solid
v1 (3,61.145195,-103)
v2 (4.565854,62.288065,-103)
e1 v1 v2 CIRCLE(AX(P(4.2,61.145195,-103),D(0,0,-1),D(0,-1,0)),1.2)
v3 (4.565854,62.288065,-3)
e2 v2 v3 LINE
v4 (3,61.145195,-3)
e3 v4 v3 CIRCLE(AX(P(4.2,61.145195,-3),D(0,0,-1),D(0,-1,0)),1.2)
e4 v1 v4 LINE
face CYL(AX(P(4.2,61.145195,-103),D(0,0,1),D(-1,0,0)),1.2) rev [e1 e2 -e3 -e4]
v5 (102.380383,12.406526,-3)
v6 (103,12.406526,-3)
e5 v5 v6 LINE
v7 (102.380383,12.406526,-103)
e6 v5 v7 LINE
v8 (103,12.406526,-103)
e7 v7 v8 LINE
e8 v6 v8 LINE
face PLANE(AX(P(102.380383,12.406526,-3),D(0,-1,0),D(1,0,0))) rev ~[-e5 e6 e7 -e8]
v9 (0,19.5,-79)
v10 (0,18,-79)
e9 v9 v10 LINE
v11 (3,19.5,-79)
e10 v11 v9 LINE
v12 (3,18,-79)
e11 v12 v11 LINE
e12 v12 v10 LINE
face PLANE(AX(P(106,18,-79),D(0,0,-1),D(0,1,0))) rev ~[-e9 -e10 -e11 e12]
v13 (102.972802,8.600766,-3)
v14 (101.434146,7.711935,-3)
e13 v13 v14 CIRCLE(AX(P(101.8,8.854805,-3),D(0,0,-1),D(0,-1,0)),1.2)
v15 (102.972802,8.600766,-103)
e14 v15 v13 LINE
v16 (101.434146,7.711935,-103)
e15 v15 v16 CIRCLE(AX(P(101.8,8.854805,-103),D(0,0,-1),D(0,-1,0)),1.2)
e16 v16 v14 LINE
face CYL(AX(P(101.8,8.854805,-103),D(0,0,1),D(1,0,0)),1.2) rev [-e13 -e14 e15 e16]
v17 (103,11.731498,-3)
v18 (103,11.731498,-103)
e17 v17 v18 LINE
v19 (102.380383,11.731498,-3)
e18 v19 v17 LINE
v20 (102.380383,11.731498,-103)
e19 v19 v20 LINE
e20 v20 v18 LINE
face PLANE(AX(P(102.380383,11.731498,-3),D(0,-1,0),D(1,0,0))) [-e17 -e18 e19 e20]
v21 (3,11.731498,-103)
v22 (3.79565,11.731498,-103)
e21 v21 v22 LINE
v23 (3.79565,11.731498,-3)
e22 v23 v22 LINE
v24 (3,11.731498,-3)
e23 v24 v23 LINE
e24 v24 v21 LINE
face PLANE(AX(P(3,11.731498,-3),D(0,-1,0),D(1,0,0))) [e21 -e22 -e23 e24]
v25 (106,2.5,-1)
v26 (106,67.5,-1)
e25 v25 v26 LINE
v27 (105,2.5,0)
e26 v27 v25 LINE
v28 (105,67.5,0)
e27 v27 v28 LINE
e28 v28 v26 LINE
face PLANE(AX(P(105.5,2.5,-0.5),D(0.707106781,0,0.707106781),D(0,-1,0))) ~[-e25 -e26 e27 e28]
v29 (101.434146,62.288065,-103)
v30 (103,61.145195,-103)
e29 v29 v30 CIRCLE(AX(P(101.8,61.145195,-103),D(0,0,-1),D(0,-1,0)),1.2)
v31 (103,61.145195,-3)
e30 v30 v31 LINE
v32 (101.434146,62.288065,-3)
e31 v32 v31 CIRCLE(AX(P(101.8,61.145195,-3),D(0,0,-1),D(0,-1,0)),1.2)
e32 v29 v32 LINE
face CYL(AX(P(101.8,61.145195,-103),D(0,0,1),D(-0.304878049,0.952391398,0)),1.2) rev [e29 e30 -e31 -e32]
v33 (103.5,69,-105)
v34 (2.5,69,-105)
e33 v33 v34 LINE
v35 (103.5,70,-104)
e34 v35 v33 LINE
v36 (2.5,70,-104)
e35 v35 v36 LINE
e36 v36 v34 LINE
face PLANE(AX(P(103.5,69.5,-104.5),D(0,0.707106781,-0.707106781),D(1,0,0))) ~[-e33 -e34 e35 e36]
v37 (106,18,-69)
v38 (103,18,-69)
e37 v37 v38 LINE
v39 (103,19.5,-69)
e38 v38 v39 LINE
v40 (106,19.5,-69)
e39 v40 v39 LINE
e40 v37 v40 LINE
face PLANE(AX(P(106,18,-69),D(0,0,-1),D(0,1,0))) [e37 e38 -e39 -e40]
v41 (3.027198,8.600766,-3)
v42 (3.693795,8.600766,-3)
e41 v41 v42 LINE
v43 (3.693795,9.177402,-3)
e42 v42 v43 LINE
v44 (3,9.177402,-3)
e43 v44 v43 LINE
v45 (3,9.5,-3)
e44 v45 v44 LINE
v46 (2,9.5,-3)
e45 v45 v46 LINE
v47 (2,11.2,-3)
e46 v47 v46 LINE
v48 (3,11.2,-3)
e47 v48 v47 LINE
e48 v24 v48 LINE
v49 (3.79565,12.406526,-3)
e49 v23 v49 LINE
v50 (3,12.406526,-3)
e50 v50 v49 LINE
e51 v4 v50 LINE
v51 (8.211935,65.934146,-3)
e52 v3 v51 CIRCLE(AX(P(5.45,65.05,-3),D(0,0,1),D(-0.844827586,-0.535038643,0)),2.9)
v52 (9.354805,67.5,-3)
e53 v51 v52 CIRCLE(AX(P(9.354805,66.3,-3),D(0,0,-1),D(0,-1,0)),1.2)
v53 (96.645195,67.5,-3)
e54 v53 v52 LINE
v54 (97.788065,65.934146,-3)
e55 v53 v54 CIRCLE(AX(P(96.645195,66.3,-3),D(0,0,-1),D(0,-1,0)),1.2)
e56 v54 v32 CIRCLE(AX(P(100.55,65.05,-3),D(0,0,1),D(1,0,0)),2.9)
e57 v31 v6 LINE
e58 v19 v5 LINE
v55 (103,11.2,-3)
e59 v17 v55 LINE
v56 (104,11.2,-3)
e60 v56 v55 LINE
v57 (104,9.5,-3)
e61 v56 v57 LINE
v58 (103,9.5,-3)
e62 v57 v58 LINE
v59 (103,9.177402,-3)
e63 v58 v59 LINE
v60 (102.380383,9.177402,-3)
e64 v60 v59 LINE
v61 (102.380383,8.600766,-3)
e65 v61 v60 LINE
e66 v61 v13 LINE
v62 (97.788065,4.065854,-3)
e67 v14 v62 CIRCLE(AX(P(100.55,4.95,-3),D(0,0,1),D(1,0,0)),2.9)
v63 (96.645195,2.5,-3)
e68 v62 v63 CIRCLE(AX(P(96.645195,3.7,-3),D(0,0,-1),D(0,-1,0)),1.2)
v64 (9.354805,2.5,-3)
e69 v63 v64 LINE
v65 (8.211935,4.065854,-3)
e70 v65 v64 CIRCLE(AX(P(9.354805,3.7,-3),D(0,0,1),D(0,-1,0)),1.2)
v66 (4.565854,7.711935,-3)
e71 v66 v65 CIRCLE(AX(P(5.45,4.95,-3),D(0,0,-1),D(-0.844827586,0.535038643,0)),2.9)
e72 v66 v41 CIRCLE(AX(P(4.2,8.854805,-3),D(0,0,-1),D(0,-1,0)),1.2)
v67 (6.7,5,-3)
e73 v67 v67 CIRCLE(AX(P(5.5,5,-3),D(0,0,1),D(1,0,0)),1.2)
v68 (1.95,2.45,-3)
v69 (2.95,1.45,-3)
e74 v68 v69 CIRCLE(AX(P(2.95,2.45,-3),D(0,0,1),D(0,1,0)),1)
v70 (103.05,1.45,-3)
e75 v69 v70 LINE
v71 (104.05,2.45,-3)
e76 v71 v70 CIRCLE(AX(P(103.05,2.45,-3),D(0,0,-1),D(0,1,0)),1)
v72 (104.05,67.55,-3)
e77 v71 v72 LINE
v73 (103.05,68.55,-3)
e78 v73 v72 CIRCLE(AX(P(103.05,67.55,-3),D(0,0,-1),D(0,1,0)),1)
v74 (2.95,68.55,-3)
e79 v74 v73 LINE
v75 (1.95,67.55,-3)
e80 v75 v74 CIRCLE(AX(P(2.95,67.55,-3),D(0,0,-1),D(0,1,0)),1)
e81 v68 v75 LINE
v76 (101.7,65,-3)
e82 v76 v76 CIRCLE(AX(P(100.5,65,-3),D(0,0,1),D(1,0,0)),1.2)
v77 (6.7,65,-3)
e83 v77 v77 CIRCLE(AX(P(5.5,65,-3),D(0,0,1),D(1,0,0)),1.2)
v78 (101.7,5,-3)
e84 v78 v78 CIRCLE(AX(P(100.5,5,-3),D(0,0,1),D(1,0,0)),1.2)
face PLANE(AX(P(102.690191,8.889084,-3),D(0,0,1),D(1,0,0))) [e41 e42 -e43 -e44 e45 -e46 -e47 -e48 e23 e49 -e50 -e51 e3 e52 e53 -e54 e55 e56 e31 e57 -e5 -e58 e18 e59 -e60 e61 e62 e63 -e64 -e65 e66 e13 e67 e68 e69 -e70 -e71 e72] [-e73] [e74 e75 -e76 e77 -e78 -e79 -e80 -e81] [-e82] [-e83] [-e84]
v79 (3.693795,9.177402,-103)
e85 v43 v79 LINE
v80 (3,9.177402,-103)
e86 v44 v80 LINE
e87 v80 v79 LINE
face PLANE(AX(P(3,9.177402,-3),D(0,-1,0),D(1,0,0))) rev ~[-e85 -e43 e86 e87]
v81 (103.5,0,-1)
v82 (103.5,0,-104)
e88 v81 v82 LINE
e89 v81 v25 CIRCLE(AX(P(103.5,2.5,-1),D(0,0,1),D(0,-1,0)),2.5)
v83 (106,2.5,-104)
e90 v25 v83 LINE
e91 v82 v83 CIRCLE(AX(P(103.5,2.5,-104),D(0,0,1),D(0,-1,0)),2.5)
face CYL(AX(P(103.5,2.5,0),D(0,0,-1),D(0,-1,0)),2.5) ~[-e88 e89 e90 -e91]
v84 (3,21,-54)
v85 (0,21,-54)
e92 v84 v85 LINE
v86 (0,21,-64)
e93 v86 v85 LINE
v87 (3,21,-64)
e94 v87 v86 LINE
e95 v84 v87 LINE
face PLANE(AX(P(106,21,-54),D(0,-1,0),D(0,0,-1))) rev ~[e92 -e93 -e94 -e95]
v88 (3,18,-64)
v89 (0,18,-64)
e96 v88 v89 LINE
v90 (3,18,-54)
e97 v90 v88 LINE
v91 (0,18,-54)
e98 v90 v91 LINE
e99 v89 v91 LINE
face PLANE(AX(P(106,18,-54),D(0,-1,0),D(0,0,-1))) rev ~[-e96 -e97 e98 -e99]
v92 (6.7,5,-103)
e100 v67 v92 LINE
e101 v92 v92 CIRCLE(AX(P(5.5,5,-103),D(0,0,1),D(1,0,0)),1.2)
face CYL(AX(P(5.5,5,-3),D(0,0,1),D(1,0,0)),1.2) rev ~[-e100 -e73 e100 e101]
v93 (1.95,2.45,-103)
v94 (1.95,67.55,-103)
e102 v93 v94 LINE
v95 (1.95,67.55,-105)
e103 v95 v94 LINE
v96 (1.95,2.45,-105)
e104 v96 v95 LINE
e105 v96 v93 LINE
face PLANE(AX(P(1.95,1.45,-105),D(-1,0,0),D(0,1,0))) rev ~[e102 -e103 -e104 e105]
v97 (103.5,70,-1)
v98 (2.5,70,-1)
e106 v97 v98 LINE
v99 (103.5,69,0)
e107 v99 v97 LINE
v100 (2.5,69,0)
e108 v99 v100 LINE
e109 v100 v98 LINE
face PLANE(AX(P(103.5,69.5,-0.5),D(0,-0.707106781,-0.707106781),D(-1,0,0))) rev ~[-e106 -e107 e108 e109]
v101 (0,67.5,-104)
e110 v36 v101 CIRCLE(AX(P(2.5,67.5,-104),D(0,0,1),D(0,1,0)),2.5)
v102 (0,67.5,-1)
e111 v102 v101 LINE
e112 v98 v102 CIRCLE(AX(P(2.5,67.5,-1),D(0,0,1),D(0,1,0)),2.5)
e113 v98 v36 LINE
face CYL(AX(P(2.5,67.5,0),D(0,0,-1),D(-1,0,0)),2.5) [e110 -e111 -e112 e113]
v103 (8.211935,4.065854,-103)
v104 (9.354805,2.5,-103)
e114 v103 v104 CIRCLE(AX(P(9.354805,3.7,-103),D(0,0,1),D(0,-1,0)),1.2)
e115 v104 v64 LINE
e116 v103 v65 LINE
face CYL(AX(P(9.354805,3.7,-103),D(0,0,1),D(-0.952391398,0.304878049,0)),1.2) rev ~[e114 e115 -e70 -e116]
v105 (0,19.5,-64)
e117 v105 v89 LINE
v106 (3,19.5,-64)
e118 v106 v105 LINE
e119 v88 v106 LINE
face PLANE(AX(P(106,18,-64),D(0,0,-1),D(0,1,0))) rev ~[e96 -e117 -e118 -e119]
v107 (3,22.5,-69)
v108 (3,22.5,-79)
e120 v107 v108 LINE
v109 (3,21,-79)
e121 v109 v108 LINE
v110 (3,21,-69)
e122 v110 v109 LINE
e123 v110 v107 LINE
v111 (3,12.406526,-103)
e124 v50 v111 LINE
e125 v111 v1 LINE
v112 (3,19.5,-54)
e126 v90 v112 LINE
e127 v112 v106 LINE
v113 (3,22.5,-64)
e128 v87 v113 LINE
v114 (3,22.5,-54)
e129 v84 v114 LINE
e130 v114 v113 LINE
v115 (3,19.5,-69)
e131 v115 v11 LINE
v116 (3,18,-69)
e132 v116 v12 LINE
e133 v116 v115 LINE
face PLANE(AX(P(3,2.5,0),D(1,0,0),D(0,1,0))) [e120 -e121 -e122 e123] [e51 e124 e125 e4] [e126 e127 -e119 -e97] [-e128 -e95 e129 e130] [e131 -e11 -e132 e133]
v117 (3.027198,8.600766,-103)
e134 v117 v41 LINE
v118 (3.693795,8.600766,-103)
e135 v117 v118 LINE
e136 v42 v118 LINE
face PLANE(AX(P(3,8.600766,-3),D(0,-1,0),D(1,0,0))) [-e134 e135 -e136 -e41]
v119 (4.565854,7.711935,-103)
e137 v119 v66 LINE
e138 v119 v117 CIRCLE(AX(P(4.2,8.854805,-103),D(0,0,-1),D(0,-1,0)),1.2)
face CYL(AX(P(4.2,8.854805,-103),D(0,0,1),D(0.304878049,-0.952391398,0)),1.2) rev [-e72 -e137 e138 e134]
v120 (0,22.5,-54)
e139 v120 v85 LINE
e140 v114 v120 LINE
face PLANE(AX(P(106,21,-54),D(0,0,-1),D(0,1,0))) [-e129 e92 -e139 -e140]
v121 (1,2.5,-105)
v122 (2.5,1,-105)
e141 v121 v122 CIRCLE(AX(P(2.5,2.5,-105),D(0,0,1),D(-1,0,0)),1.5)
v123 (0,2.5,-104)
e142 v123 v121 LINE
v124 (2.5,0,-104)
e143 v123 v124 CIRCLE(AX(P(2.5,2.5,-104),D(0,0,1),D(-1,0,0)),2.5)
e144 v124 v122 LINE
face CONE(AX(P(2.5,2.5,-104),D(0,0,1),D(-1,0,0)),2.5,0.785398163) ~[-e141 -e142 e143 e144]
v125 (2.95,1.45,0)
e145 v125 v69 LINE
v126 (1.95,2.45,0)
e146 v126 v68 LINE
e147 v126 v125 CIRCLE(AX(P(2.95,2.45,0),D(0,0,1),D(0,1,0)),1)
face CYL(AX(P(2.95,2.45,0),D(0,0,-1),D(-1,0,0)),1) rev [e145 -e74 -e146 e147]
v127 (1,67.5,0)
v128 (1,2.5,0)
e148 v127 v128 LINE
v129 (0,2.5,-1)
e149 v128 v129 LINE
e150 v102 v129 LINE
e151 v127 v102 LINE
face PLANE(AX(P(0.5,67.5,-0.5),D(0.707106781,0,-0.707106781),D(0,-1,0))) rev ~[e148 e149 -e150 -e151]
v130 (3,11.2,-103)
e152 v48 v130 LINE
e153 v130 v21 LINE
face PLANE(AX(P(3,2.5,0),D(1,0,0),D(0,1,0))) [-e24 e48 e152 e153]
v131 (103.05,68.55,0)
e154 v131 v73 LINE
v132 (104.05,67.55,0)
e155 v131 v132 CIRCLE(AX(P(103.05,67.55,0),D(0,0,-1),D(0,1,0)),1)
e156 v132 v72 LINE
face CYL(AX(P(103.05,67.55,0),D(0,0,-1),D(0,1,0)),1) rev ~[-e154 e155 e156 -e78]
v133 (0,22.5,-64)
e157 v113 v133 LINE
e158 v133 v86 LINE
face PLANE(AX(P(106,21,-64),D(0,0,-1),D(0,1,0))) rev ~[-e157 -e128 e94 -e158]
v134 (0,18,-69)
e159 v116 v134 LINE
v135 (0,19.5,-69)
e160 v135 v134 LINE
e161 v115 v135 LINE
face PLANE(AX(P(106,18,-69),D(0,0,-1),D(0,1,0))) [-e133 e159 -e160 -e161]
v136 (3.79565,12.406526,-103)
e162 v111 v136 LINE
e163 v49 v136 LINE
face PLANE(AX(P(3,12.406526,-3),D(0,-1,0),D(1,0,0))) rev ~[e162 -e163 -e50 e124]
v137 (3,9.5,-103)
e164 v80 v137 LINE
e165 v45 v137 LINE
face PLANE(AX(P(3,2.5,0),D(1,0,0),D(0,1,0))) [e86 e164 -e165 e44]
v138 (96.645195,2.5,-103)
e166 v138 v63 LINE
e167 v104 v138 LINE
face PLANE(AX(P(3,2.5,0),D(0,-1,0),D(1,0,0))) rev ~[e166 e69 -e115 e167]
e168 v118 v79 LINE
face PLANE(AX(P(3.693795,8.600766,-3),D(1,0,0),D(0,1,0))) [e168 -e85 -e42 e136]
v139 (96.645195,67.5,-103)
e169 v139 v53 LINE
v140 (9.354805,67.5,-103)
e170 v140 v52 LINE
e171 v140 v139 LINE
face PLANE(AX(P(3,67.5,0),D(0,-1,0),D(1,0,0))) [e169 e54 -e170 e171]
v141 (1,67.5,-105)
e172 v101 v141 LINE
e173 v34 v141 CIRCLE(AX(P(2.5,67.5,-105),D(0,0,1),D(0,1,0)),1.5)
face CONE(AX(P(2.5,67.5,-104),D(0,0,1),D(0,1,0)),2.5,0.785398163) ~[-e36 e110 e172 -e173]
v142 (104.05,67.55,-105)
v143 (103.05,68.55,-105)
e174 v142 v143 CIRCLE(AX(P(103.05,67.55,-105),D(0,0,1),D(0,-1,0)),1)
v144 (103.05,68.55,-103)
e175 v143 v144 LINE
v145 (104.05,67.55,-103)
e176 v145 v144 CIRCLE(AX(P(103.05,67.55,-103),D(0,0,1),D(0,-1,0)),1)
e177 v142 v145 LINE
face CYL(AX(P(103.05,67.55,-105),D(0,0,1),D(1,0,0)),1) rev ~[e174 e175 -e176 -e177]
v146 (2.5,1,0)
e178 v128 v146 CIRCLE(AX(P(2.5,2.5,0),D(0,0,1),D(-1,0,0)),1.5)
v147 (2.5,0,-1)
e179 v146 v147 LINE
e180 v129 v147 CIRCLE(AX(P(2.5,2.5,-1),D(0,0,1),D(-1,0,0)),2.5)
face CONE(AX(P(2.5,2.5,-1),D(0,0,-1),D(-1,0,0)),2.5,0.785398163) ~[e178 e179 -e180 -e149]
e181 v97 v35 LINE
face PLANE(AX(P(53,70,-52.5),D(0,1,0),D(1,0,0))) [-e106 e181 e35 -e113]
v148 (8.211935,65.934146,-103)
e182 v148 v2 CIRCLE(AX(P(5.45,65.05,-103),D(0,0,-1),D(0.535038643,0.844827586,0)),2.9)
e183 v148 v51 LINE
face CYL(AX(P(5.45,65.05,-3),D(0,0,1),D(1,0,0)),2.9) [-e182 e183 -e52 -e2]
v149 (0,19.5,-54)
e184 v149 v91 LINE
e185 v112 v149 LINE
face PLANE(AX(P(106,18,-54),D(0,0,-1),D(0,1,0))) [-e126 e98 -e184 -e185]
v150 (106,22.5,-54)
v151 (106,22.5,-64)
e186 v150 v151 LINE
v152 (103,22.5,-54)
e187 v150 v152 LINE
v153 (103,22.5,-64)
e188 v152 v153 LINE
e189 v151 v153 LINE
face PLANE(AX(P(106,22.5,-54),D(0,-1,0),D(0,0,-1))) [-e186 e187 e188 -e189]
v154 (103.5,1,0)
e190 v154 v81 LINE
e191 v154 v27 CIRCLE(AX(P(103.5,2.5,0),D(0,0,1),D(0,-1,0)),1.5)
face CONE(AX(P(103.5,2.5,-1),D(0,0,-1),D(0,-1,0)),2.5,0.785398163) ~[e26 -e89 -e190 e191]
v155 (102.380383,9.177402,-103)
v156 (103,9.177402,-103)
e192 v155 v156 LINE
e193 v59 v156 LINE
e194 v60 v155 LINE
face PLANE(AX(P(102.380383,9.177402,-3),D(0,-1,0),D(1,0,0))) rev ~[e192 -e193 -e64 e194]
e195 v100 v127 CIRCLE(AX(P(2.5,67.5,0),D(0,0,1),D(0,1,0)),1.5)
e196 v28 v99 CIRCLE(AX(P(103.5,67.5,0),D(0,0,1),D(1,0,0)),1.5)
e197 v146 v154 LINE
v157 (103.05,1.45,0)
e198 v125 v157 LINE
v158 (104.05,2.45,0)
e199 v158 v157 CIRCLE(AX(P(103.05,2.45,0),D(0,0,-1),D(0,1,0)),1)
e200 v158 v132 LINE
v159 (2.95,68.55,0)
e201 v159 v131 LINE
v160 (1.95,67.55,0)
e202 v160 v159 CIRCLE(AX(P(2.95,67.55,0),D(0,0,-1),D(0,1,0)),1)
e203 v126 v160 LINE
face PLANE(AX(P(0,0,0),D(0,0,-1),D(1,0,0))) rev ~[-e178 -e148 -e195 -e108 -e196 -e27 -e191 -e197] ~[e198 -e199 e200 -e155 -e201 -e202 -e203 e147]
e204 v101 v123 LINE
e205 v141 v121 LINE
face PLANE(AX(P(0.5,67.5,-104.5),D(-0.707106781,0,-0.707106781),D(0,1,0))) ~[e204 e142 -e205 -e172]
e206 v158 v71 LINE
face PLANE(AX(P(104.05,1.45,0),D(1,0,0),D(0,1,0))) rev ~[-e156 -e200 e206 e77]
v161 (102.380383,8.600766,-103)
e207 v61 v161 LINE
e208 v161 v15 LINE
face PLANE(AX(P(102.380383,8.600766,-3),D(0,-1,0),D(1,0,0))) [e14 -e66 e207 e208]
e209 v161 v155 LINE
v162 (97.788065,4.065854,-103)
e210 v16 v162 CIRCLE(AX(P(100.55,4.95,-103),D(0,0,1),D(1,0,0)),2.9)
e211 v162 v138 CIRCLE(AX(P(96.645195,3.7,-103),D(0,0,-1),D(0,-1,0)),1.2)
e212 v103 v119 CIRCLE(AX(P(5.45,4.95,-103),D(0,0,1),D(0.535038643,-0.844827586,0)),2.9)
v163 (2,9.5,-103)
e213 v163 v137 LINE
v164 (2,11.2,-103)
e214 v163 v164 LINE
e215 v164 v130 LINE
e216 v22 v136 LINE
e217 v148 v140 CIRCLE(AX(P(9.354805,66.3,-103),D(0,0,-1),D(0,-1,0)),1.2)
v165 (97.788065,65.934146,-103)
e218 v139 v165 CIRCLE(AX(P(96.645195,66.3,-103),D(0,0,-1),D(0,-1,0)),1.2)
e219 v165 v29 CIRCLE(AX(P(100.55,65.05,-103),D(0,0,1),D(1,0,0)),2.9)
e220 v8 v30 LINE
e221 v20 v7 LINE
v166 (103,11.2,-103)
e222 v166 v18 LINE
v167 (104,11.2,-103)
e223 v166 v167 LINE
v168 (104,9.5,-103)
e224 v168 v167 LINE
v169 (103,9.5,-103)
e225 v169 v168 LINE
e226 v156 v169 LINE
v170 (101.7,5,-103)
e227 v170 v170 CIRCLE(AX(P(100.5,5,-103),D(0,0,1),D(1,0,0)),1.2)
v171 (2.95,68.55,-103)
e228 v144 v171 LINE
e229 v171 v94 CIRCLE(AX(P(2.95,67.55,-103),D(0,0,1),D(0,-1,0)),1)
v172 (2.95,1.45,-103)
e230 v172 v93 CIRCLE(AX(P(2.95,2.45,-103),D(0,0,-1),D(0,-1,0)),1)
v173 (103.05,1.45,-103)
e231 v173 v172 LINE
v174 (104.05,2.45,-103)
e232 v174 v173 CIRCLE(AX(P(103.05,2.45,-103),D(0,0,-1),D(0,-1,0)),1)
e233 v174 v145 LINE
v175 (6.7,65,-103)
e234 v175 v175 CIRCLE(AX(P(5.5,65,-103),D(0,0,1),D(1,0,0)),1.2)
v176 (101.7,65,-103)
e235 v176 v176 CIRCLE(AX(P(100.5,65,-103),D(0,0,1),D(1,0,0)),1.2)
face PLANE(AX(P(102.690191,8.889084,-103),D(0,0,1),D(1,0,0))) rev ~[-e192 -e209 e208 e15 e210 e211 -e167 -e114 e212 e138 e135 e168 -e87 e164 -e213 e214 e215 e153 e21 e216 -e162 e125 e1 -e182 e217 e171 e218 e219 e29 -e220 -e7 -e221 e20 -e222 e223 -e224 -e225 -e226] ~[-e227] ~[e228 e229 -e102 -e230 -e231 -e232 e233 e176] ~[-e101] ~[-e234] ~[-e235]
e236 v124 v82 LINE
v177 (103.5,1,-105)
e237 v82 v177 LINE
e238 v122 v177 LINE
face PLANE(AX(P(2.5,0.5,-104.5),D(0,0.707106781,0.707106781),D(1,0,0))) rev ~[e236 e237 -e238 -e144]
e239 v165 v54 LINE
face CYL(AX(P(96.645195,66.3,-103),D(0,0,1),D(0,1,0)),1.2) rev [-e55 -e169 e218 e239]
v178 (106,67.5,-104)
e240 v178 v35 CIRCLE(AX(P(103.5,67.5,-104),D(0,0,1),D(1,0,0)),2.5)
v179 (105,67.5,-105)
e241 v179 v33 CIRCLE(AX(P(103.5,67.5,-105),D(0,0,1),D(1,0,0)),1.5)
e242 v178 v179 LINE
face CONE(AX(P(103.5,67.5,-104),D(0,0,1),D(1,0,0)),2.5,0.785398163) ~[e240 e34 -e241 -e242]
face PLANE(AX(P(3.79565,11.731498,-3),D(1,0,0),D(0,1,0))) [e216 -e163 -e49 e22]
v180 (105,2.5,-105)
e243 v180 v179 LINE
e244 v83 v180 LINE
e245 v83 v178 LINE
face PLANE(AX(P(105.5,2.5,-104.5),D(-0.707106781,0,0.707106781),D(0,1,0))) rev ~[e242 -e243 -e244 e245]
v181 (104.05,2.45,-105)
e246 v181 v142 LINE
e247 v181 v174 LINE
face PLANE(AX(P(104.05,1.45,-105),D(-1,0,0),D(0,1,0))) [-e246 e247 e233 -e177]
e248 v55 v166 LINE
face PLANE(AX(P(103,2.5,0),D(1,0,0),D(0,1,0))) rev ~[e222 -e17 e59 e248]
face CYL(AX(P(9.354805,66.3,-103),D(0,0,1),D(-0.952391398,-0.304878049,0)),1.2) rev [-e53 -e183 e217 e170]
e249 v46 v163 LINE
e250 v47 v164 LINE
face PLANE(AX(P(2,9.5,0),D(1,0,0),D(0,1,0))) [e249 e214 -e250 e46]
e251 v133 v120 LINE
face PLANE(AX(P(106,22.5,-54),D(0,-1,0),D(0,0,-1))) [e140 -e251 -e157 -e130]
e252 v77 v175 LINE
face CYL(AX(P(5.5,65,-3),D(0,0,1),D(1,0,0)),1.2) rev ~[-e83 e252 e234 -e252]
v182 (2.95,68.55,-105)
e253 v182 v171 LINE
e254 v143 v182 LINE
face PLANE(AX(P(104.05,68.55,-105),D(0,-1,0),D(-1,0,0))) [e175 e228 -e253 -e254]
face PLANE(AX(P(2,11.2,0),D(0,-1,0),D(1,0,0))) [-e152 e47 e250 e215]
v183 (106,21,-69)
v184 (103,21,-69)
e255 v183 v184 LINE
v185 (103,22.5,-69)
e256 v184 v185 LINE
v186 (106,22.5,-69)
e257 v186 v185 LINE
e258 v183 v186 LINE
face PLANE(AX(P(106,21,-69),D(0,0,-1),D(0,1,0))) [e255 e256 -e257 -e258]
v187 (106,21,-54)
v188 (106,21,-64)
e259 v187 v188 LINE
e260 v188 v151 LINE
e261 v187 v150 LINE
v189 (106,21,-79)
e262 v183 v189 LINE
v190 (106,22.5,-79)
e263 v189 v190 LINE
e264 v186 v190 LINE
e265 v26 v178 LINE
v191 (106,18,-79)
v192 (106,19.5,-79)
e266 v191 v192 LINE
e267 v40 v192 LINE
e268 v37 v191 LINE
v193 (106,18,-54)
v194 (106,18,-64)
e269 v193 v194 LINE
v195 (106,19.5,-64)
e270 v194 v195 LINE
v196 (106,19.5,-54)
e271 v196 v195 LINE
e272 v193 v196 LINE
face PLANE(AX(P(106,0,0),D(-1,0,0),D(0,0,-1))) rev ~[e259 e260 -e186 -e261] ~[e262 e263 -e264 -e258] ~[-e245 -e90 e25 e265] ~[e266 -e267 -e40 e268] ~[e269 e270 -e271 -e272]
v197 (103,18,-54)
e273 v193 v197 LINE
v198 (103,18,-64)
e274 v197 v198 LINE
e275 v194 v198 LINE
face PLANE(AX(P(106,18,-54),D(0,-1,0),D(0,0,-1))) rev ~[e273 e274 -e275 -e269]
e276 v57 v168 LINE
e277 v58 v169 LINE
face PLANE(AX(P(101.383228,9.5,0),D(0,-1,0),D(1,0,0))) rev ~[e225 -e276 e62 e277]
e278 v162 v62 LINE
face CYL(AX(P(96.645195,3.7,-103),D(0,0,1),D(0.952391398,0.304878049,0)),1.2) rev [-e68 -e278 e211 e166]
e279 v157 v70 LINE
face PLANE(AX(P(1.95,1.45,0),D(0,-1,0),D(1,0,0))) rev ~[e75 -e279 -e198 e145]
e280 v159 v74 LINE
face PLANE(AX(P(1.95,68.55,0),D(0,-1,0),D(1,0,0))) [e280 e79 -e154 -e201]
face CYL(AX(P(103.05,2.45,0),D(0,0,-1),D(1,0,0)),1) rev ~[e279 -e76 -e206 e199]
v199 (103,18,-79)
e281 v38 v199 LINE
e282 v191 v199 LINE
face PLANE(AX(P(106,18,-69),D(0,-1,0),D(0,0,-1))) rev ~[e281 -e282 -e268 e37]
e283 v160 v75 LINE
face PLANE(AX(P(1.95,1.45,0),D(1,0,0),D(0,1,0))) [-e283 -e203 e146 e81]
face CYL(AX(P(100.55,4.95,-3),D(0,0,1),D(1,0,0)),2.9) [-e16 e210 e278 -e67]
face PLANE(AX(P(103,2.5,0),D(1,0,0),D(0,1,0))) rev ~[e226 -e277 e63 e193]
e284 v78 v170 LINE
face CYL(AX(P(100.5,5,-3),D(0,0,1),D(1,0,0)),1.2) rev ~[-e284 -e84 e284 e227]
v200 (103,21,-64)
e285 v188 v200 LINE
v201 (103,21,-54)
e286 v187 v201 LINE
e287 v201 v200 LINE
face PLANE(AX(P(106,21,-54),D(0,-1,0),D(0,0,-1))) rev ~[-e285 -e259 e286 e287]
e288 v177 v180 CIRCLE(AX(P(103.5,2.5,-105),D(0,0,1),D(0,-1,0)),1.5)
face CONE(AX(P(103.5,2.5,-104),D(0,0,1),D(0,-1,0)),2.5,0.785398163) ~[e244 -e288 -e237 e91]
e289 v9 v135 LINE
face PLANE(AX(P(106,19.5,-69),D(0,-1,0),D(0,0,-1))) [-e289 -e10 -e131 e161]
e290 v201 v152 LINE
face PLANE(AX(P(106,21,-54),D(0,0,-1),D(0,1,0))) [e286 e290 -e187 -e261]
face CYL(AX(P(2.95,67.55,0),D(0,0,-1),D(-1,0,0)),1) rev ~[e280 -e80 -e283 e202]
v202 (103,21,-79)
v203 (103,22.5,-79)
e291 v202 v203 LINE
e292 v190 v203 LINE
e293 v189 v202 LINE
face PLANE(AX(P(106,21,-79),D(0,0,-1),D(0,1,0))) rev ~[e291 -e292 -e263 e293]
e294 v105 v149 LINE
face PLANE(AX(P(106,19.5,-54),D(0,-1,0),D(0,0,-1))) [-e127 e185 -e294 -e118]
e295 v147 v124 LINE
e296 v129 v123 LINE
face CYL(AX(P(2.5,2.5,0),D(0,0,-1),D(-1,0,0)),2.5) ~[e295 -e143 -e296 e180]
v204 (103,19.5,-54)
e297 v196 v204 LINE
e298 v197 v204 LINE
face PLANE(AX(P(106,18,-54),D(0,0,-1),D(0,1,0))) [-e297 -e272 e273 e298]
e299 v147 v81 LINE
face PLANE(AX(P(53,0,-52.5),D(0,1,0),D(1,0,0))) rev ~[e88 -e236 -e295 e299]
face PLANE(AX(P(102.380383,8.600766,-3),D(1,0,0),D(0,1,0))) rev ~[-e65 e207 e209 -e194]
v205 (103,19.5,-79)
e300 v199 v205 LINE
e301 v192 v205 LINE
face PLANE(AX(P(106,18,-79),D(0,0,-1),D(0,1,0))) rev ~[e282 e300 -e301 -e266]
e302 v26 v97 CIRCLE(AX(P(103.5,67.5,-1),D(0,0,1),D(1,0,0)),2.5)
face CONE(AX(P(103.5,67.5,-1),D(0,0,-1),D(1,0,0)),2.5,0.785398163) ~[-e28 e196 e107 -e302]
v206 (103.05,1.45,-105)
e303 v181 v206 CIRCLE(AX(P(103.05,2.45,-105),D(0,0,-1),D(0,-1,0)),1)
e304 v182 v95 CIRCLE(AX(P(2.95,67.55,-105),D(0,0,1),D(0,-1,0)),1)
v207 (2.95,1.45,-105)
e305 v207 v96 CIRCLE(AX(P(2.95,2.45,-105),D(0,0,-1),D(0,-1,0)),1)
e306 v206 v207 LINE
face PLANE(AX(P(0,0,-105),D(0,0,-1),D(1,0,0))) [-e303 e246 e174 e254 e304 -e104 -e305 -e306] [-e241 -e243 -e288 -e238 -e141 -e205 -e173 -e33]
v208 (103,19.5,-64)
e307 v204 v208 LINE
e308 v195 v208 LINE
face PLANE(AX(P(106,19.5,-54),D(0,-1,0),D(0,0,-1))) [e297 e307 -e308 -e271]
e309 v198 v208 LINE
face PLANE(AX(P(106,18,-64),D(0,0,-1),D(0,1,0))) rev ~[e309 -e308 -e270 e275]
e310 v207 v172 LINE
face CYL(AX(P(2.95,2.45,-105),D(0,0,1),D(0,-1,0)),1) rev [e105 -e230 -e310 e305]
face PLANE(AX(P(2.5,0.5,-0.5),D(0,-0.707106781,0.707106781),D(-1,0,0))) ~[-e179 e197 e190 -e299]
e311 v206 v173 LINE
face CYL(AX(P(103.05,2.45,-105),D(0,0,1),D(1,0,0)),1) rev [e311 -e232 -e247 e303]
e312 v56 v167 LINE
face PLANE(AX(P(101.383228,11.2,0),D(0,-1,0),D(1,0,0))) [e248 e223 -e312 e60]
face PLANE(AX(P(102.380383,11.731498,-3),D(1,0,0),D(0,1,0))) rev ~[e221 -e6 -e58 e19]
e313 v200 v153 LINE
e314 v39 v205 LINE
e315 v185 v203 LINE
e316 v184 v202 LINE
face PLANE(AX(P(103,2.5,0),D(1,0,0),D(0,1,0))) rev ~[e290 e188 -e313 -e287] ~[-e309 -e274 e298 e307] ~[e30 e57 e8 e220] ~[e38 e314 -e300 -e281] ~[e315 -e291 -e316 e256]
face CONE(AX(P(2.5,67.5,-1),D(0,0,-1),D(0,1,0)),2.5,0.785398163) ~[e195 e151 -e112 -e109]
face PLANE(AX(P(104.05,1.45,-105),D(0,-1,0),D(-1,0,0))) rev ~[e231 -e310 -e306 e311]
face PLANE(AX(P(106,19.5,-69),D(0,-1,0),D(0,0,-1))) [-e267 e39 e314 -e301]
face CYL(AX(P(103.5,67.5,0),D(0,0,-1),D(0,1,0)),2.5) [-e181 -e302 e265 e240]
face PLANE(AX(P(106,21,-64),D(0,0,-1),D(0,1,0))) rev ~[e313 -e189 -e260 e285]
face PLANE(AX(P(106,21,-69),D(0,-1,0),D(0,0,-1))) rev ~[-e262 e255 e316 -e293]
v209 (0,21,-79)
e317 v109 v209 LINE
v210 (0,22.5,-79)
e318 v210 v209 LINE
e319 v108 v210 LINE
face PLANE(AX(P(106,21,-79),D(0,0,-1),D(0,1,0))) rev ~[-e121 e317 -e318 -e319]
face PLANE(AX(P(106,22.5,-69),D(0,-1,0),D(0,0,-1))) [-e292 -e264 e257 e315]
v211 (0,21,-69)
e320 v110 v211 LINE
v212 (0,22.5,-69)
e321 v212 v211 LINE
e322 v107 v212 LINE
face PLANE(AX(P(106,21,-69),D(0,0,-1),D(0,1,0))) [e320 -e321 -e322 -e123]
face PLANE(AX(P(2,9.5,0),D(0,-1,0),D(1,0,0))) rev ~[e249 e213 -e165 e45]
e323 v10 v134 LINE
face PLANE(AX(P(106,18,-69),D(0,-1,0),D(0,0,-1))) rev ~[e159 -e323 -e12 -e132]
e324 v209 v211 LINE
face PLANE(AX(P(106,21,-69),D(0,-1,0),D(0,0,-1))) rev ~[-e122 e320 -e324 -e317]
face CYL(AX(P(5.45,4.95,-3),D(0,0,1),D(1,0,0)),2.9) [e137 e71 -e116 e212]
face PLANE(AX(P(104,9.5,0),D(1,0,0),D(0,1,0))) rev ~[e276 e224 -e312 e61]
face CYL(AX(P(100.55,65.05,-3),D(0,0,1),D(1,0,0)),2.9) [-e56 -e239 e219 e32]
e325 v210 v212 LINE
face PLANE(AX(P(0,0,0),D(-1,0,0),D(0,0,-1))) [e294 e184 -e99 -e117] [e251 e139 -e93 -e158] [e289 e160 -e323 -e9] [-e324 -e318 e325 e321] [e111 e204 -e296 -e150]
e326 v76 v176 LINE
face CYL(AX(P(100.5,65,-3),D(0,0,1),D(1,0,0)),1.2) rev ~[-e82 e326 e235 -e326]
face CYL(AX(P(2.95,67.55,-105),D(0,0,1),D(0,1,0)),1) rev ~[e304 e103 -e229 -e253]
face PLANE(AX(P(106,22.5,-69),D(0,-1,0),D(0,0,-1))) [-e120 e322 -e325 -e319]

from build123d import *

# Parameters (mm, degrees)
SKETCH_3_W          = 106
SKETCH_3_H          = 105
EXTRUDE_1_DEPTH     = 70
SKETCH_4_W          = 100
SKETCH_4_H          = 65
CUT_EXTRUDE_1_DEPTH = 165.805946495
FILLET_2_R          = 2.5
FILLET_3_R          = 2.5
CHAMFER_1_SIZE      = 1
SKETCH_5_W          = 2.616772355
SKETCH_5_H          = 1.7
CUT_EXTRUDE_2_DEPTH = 165.805946495
SKETCH_7_W          = 102.1
SKETCH_7_H          = 67.1
CUT_EXTRUDE_3_DEPTH = 3
FILLET_4_R          = 1
SKETCH_8_W          = 102.1
SKETCH_8_H          = 67.1
CUT_EXTRUDE_4_DEPTH = 2
FILLET_5_R          = 1
SKETCH_9_R          = 2.9
EXTRUDE_2_DEPTH     = 100
FILLET_6_R          = 1.2
SKETCH_10_R         = 1.2
CUT_EXTRUDE_5_DEPTH = 163.911018657
SKETCH_11_W         = 10
SKETCH_11_H         = 1.5
CUT_EXTRUDE_6_DEPTH = 165.805946495
SKETCH_13_W         = 0.619617199
SKETCH_13_H         = 0.675027666
SKETCH_13_H_2       = 0.576636166
SKETCH_13_W_2       = 0.693795217
SKETCH_13_W_3       = 0.795649679
EXTRUDE_3_DEPTH     = 100


with BuildPart() as part:
    # 草图3 → 凸台-拉伸1 (new body)
    with BuildSketch(Plane(origin=(0, 0, 0), x_dir=(1, 0, 0), z_dir=(0, 1, 0))):
        with Locations((53, 52.5)):
            Rectangle(SKETCH_3_W, SKETCH_3_H)
    extrude(amount=EXTRUDE_1_DEPTH)

    # 草图4 → 切除-拉伸1 (cut, through all)
    with BuildSketch(Plane.XY):
        with Locations((53, 35)):
            Rectangle(SKETCH_4_W, SKETCH_4_H)
    extrude(amount=-CUT_EXTRUDE_1_DEPTH, mode=Mode.SUBTRACT)

    # 圆角2
    fillet_2_edges = [part.edges().sort_by_distance(p)[0] for p in [
        (106, 70, -52.5),
        (0, 70, -52.5),
        (106, 0, -52.5),
        (0, 0, -52.5),
    ]]
    fillet(fillet_2_edges, radius=FILLET_2_R)

    # 圆角3
    fillet_3_edges = [part.edges().sort_by_distance(p)[0] for p in [
        (3, 2.5, -52.5),
        (3, 67.5, -52.5),
        (103, 67.5, -52.5),
        (103, 2.5, -52.5),
    ]]
    fillet(fillet_3_edges, radius=FILLET_3_R)

    # 倒角1
    chamfer_1_edges = [part.edges().sort_by_distance(p)[0] for p in [
        (106, 35, -105),
        (106, 35, 0),
        (53, 0, -105),
        (0, 35, -105),
        (53, 70, -105),
        (0.732233047, 69.267766953, -105),
        (105.267766953, 69.267766953, -105),
        (0.732233047, 0.732233047, -105),
        (105.267766953, 0.732233047, -105),
        (53, 0, 0),
        (53, 70, 0),
        (0, 35, 0),
        (0.732233047, 69.267766953, 0),
        (105.267766953, 69.267766953, 0),
        (0.732233047, 0.732233047, 0),
        (105.267766953, 0.732233047, 0),
    ]]
    chamfer(chamfer_1_edges, length=CHAMFER_1_SIZE)

    # 草图5 → 切除-拉伸2 (cut, through all)
    with BuildSketch(Plane.XY):
        with Locations((3.308386178, 10.35)):
            Rectangle(SKETCH_5_W, SKETCH_5_H)
        with Locations((102.691613823, 10.35)):
            Rectangle(SKETCH_5_W, SKETCH_5_H)
    extrude(amount=-CUT_EXTRUDE_2_DEPTH, mode=Mode.SUBTRACT)

    # 草图7 → 切除-拉伸3 (cut)
    with BuildSketch(Plane.XY):
        with Locations((53, 35)):
            Rectangle(SKETCH_7_W, SKETCH_7_H)
    extrude(amount=-CUT_EXTRUDE_3_DEPTH, mode=Mode.SUBTRACT)

    # 圆角4
    fillet_4_edges = [part.edges().sort_by_distance(p)[0] for p in [
        (1.95, 1.45, -1.5),
        (1.95, 68.55, -1.5),
        (104.05, 68.55, -1.5),
        (104.05, 1.45, -1.5),
    ]]
    fillet(fillet_4_edges, radius=FILLET_4_R)

    # 草图8 → 切除-拉伸4 (cut)
    with BuildSketch(Plane(origin=(0, 0, -105), x_dir=(-1, 0, 0), z_dir=(0, 0, -1))):
        with Locations((-53, 35)):
            Rectangle(SKETCH_8_W, SKETCH_8_H)
    extrude(amount=-CUT_EXTRUDE_4_DEPTH, mode=Mode.SUBTRACT)

    # 圆角5
    fillet_5_edges = [part.edges().sort_by_distance(p)[0] for p in [
        (104.05, 1.45, -104),
        (104.05, 68.55, -104),
        (1.95, 68.55, -104),
        (1.95, 1.45, -104),
    ]]
    fillet(fillet_5_edges, radius=FILLET_5_R)

    # 草图9 → 凸台-拉伸2 (add)
    with BuildSketch(Plane.XY.offset(-3)):
        with Locations((5.45, 4.95)):
            Circle(SKETCH_9_R)
        with Locations((100.55, 4.95)):
            Circle(SKETCH_9_R)
        with Locations((100.55, 65.05)):
            Circle(SKETCH_9_R)
        with Locations((5.45, 65.05)):
            Circle(SKETCH_9_R)
    extrude(amount=-EXTRUDE_2_DEPTH)

    # 圆角6
    fillet_6_edges = [part.edges().sort_by_distance(p)[0] for p in [
        (3, 6.501612065, -53),
        (7.001612065, 2.5, -53),
        (103, 6.501612065, -53),
        (98.998387935, 2.5, -53),
        (98.998387935, 67.5, -53),
        (103, 63.498387935, -53),
        (3, 63.498387935, -53),
        (7.001612065, 67.5, -53),
    ]]
    fillet(fillet_6_edges, radius=FILLET_6_R)

    # 草图10 → 切除-拉伸5 (cut, through all)
    with BuildSketch(Plane.XY.offset(-3)):
        with Locations((5.5, 5)):
            Circle(SKETCH_10_R)
        with Locations((100.5, 65)):
            Circle(SKETCH_10_R)
        with Locations((5.5, 65)):
            Circle(SKETCH_10_R)
        with Locations((100.5, 5)):
            Circle(SKETCH_10_R)
    extrude(amount=-CUT_EXTRUDE_5_DEPTH, mode=Mode.SUBTRACT)

    # 草图11 → 切除-拉伸6 (cut, through all)
    with BuildSketch(Plane(origin=(106, 0, 0), x_dir=(0, 0, -1), z_dir=(1, 0, 0))):
        with Locations((74, 18.75)):
            Rectangle(SKETCH_11_W, SKETCH_11_H)
        with Locations((74, 21.75)):
            Rectangle(SKETCH_11_W, SKETCH_11_H)
        with Locations((59, 18.75)):
            Rectangle(SKETCH_11_W, SKETCH_11_H)
        with Locations((59, 21.75)):
            Rectangle(SKETCH_11_W, SKETCH_11_H)
    extrude(amount=-CUT_EXTRUDE_6_DEPTH, mode=Mode.SUBTRACT)

    # 草图13 → 凸台-拉伸3 (add)
    with BuildSketch(Plane.XY.offset(-3)):
        with Locations((102.6901914, 12.069011797)):
            Rectangle(SKETCH_13_W, SKETCH_13_H)
        with Locations((102.6901914, 8.889084283)):
            Rectangle(SKETCH_13_W, SKETCH_13_H_2)
        with Locations((3.346897608, 8.889084283)):
            Rectangle(SKETCH_13_W_2, SKETCH_13_H_2)
        with Locations((3.39782484, 12.069011797)):
            Rectangle(SKETCH_13_W_3, SKETCH_13_H)
    extrude(amount=-EXTRUDE_3_DEPTH)


solid = part.part
